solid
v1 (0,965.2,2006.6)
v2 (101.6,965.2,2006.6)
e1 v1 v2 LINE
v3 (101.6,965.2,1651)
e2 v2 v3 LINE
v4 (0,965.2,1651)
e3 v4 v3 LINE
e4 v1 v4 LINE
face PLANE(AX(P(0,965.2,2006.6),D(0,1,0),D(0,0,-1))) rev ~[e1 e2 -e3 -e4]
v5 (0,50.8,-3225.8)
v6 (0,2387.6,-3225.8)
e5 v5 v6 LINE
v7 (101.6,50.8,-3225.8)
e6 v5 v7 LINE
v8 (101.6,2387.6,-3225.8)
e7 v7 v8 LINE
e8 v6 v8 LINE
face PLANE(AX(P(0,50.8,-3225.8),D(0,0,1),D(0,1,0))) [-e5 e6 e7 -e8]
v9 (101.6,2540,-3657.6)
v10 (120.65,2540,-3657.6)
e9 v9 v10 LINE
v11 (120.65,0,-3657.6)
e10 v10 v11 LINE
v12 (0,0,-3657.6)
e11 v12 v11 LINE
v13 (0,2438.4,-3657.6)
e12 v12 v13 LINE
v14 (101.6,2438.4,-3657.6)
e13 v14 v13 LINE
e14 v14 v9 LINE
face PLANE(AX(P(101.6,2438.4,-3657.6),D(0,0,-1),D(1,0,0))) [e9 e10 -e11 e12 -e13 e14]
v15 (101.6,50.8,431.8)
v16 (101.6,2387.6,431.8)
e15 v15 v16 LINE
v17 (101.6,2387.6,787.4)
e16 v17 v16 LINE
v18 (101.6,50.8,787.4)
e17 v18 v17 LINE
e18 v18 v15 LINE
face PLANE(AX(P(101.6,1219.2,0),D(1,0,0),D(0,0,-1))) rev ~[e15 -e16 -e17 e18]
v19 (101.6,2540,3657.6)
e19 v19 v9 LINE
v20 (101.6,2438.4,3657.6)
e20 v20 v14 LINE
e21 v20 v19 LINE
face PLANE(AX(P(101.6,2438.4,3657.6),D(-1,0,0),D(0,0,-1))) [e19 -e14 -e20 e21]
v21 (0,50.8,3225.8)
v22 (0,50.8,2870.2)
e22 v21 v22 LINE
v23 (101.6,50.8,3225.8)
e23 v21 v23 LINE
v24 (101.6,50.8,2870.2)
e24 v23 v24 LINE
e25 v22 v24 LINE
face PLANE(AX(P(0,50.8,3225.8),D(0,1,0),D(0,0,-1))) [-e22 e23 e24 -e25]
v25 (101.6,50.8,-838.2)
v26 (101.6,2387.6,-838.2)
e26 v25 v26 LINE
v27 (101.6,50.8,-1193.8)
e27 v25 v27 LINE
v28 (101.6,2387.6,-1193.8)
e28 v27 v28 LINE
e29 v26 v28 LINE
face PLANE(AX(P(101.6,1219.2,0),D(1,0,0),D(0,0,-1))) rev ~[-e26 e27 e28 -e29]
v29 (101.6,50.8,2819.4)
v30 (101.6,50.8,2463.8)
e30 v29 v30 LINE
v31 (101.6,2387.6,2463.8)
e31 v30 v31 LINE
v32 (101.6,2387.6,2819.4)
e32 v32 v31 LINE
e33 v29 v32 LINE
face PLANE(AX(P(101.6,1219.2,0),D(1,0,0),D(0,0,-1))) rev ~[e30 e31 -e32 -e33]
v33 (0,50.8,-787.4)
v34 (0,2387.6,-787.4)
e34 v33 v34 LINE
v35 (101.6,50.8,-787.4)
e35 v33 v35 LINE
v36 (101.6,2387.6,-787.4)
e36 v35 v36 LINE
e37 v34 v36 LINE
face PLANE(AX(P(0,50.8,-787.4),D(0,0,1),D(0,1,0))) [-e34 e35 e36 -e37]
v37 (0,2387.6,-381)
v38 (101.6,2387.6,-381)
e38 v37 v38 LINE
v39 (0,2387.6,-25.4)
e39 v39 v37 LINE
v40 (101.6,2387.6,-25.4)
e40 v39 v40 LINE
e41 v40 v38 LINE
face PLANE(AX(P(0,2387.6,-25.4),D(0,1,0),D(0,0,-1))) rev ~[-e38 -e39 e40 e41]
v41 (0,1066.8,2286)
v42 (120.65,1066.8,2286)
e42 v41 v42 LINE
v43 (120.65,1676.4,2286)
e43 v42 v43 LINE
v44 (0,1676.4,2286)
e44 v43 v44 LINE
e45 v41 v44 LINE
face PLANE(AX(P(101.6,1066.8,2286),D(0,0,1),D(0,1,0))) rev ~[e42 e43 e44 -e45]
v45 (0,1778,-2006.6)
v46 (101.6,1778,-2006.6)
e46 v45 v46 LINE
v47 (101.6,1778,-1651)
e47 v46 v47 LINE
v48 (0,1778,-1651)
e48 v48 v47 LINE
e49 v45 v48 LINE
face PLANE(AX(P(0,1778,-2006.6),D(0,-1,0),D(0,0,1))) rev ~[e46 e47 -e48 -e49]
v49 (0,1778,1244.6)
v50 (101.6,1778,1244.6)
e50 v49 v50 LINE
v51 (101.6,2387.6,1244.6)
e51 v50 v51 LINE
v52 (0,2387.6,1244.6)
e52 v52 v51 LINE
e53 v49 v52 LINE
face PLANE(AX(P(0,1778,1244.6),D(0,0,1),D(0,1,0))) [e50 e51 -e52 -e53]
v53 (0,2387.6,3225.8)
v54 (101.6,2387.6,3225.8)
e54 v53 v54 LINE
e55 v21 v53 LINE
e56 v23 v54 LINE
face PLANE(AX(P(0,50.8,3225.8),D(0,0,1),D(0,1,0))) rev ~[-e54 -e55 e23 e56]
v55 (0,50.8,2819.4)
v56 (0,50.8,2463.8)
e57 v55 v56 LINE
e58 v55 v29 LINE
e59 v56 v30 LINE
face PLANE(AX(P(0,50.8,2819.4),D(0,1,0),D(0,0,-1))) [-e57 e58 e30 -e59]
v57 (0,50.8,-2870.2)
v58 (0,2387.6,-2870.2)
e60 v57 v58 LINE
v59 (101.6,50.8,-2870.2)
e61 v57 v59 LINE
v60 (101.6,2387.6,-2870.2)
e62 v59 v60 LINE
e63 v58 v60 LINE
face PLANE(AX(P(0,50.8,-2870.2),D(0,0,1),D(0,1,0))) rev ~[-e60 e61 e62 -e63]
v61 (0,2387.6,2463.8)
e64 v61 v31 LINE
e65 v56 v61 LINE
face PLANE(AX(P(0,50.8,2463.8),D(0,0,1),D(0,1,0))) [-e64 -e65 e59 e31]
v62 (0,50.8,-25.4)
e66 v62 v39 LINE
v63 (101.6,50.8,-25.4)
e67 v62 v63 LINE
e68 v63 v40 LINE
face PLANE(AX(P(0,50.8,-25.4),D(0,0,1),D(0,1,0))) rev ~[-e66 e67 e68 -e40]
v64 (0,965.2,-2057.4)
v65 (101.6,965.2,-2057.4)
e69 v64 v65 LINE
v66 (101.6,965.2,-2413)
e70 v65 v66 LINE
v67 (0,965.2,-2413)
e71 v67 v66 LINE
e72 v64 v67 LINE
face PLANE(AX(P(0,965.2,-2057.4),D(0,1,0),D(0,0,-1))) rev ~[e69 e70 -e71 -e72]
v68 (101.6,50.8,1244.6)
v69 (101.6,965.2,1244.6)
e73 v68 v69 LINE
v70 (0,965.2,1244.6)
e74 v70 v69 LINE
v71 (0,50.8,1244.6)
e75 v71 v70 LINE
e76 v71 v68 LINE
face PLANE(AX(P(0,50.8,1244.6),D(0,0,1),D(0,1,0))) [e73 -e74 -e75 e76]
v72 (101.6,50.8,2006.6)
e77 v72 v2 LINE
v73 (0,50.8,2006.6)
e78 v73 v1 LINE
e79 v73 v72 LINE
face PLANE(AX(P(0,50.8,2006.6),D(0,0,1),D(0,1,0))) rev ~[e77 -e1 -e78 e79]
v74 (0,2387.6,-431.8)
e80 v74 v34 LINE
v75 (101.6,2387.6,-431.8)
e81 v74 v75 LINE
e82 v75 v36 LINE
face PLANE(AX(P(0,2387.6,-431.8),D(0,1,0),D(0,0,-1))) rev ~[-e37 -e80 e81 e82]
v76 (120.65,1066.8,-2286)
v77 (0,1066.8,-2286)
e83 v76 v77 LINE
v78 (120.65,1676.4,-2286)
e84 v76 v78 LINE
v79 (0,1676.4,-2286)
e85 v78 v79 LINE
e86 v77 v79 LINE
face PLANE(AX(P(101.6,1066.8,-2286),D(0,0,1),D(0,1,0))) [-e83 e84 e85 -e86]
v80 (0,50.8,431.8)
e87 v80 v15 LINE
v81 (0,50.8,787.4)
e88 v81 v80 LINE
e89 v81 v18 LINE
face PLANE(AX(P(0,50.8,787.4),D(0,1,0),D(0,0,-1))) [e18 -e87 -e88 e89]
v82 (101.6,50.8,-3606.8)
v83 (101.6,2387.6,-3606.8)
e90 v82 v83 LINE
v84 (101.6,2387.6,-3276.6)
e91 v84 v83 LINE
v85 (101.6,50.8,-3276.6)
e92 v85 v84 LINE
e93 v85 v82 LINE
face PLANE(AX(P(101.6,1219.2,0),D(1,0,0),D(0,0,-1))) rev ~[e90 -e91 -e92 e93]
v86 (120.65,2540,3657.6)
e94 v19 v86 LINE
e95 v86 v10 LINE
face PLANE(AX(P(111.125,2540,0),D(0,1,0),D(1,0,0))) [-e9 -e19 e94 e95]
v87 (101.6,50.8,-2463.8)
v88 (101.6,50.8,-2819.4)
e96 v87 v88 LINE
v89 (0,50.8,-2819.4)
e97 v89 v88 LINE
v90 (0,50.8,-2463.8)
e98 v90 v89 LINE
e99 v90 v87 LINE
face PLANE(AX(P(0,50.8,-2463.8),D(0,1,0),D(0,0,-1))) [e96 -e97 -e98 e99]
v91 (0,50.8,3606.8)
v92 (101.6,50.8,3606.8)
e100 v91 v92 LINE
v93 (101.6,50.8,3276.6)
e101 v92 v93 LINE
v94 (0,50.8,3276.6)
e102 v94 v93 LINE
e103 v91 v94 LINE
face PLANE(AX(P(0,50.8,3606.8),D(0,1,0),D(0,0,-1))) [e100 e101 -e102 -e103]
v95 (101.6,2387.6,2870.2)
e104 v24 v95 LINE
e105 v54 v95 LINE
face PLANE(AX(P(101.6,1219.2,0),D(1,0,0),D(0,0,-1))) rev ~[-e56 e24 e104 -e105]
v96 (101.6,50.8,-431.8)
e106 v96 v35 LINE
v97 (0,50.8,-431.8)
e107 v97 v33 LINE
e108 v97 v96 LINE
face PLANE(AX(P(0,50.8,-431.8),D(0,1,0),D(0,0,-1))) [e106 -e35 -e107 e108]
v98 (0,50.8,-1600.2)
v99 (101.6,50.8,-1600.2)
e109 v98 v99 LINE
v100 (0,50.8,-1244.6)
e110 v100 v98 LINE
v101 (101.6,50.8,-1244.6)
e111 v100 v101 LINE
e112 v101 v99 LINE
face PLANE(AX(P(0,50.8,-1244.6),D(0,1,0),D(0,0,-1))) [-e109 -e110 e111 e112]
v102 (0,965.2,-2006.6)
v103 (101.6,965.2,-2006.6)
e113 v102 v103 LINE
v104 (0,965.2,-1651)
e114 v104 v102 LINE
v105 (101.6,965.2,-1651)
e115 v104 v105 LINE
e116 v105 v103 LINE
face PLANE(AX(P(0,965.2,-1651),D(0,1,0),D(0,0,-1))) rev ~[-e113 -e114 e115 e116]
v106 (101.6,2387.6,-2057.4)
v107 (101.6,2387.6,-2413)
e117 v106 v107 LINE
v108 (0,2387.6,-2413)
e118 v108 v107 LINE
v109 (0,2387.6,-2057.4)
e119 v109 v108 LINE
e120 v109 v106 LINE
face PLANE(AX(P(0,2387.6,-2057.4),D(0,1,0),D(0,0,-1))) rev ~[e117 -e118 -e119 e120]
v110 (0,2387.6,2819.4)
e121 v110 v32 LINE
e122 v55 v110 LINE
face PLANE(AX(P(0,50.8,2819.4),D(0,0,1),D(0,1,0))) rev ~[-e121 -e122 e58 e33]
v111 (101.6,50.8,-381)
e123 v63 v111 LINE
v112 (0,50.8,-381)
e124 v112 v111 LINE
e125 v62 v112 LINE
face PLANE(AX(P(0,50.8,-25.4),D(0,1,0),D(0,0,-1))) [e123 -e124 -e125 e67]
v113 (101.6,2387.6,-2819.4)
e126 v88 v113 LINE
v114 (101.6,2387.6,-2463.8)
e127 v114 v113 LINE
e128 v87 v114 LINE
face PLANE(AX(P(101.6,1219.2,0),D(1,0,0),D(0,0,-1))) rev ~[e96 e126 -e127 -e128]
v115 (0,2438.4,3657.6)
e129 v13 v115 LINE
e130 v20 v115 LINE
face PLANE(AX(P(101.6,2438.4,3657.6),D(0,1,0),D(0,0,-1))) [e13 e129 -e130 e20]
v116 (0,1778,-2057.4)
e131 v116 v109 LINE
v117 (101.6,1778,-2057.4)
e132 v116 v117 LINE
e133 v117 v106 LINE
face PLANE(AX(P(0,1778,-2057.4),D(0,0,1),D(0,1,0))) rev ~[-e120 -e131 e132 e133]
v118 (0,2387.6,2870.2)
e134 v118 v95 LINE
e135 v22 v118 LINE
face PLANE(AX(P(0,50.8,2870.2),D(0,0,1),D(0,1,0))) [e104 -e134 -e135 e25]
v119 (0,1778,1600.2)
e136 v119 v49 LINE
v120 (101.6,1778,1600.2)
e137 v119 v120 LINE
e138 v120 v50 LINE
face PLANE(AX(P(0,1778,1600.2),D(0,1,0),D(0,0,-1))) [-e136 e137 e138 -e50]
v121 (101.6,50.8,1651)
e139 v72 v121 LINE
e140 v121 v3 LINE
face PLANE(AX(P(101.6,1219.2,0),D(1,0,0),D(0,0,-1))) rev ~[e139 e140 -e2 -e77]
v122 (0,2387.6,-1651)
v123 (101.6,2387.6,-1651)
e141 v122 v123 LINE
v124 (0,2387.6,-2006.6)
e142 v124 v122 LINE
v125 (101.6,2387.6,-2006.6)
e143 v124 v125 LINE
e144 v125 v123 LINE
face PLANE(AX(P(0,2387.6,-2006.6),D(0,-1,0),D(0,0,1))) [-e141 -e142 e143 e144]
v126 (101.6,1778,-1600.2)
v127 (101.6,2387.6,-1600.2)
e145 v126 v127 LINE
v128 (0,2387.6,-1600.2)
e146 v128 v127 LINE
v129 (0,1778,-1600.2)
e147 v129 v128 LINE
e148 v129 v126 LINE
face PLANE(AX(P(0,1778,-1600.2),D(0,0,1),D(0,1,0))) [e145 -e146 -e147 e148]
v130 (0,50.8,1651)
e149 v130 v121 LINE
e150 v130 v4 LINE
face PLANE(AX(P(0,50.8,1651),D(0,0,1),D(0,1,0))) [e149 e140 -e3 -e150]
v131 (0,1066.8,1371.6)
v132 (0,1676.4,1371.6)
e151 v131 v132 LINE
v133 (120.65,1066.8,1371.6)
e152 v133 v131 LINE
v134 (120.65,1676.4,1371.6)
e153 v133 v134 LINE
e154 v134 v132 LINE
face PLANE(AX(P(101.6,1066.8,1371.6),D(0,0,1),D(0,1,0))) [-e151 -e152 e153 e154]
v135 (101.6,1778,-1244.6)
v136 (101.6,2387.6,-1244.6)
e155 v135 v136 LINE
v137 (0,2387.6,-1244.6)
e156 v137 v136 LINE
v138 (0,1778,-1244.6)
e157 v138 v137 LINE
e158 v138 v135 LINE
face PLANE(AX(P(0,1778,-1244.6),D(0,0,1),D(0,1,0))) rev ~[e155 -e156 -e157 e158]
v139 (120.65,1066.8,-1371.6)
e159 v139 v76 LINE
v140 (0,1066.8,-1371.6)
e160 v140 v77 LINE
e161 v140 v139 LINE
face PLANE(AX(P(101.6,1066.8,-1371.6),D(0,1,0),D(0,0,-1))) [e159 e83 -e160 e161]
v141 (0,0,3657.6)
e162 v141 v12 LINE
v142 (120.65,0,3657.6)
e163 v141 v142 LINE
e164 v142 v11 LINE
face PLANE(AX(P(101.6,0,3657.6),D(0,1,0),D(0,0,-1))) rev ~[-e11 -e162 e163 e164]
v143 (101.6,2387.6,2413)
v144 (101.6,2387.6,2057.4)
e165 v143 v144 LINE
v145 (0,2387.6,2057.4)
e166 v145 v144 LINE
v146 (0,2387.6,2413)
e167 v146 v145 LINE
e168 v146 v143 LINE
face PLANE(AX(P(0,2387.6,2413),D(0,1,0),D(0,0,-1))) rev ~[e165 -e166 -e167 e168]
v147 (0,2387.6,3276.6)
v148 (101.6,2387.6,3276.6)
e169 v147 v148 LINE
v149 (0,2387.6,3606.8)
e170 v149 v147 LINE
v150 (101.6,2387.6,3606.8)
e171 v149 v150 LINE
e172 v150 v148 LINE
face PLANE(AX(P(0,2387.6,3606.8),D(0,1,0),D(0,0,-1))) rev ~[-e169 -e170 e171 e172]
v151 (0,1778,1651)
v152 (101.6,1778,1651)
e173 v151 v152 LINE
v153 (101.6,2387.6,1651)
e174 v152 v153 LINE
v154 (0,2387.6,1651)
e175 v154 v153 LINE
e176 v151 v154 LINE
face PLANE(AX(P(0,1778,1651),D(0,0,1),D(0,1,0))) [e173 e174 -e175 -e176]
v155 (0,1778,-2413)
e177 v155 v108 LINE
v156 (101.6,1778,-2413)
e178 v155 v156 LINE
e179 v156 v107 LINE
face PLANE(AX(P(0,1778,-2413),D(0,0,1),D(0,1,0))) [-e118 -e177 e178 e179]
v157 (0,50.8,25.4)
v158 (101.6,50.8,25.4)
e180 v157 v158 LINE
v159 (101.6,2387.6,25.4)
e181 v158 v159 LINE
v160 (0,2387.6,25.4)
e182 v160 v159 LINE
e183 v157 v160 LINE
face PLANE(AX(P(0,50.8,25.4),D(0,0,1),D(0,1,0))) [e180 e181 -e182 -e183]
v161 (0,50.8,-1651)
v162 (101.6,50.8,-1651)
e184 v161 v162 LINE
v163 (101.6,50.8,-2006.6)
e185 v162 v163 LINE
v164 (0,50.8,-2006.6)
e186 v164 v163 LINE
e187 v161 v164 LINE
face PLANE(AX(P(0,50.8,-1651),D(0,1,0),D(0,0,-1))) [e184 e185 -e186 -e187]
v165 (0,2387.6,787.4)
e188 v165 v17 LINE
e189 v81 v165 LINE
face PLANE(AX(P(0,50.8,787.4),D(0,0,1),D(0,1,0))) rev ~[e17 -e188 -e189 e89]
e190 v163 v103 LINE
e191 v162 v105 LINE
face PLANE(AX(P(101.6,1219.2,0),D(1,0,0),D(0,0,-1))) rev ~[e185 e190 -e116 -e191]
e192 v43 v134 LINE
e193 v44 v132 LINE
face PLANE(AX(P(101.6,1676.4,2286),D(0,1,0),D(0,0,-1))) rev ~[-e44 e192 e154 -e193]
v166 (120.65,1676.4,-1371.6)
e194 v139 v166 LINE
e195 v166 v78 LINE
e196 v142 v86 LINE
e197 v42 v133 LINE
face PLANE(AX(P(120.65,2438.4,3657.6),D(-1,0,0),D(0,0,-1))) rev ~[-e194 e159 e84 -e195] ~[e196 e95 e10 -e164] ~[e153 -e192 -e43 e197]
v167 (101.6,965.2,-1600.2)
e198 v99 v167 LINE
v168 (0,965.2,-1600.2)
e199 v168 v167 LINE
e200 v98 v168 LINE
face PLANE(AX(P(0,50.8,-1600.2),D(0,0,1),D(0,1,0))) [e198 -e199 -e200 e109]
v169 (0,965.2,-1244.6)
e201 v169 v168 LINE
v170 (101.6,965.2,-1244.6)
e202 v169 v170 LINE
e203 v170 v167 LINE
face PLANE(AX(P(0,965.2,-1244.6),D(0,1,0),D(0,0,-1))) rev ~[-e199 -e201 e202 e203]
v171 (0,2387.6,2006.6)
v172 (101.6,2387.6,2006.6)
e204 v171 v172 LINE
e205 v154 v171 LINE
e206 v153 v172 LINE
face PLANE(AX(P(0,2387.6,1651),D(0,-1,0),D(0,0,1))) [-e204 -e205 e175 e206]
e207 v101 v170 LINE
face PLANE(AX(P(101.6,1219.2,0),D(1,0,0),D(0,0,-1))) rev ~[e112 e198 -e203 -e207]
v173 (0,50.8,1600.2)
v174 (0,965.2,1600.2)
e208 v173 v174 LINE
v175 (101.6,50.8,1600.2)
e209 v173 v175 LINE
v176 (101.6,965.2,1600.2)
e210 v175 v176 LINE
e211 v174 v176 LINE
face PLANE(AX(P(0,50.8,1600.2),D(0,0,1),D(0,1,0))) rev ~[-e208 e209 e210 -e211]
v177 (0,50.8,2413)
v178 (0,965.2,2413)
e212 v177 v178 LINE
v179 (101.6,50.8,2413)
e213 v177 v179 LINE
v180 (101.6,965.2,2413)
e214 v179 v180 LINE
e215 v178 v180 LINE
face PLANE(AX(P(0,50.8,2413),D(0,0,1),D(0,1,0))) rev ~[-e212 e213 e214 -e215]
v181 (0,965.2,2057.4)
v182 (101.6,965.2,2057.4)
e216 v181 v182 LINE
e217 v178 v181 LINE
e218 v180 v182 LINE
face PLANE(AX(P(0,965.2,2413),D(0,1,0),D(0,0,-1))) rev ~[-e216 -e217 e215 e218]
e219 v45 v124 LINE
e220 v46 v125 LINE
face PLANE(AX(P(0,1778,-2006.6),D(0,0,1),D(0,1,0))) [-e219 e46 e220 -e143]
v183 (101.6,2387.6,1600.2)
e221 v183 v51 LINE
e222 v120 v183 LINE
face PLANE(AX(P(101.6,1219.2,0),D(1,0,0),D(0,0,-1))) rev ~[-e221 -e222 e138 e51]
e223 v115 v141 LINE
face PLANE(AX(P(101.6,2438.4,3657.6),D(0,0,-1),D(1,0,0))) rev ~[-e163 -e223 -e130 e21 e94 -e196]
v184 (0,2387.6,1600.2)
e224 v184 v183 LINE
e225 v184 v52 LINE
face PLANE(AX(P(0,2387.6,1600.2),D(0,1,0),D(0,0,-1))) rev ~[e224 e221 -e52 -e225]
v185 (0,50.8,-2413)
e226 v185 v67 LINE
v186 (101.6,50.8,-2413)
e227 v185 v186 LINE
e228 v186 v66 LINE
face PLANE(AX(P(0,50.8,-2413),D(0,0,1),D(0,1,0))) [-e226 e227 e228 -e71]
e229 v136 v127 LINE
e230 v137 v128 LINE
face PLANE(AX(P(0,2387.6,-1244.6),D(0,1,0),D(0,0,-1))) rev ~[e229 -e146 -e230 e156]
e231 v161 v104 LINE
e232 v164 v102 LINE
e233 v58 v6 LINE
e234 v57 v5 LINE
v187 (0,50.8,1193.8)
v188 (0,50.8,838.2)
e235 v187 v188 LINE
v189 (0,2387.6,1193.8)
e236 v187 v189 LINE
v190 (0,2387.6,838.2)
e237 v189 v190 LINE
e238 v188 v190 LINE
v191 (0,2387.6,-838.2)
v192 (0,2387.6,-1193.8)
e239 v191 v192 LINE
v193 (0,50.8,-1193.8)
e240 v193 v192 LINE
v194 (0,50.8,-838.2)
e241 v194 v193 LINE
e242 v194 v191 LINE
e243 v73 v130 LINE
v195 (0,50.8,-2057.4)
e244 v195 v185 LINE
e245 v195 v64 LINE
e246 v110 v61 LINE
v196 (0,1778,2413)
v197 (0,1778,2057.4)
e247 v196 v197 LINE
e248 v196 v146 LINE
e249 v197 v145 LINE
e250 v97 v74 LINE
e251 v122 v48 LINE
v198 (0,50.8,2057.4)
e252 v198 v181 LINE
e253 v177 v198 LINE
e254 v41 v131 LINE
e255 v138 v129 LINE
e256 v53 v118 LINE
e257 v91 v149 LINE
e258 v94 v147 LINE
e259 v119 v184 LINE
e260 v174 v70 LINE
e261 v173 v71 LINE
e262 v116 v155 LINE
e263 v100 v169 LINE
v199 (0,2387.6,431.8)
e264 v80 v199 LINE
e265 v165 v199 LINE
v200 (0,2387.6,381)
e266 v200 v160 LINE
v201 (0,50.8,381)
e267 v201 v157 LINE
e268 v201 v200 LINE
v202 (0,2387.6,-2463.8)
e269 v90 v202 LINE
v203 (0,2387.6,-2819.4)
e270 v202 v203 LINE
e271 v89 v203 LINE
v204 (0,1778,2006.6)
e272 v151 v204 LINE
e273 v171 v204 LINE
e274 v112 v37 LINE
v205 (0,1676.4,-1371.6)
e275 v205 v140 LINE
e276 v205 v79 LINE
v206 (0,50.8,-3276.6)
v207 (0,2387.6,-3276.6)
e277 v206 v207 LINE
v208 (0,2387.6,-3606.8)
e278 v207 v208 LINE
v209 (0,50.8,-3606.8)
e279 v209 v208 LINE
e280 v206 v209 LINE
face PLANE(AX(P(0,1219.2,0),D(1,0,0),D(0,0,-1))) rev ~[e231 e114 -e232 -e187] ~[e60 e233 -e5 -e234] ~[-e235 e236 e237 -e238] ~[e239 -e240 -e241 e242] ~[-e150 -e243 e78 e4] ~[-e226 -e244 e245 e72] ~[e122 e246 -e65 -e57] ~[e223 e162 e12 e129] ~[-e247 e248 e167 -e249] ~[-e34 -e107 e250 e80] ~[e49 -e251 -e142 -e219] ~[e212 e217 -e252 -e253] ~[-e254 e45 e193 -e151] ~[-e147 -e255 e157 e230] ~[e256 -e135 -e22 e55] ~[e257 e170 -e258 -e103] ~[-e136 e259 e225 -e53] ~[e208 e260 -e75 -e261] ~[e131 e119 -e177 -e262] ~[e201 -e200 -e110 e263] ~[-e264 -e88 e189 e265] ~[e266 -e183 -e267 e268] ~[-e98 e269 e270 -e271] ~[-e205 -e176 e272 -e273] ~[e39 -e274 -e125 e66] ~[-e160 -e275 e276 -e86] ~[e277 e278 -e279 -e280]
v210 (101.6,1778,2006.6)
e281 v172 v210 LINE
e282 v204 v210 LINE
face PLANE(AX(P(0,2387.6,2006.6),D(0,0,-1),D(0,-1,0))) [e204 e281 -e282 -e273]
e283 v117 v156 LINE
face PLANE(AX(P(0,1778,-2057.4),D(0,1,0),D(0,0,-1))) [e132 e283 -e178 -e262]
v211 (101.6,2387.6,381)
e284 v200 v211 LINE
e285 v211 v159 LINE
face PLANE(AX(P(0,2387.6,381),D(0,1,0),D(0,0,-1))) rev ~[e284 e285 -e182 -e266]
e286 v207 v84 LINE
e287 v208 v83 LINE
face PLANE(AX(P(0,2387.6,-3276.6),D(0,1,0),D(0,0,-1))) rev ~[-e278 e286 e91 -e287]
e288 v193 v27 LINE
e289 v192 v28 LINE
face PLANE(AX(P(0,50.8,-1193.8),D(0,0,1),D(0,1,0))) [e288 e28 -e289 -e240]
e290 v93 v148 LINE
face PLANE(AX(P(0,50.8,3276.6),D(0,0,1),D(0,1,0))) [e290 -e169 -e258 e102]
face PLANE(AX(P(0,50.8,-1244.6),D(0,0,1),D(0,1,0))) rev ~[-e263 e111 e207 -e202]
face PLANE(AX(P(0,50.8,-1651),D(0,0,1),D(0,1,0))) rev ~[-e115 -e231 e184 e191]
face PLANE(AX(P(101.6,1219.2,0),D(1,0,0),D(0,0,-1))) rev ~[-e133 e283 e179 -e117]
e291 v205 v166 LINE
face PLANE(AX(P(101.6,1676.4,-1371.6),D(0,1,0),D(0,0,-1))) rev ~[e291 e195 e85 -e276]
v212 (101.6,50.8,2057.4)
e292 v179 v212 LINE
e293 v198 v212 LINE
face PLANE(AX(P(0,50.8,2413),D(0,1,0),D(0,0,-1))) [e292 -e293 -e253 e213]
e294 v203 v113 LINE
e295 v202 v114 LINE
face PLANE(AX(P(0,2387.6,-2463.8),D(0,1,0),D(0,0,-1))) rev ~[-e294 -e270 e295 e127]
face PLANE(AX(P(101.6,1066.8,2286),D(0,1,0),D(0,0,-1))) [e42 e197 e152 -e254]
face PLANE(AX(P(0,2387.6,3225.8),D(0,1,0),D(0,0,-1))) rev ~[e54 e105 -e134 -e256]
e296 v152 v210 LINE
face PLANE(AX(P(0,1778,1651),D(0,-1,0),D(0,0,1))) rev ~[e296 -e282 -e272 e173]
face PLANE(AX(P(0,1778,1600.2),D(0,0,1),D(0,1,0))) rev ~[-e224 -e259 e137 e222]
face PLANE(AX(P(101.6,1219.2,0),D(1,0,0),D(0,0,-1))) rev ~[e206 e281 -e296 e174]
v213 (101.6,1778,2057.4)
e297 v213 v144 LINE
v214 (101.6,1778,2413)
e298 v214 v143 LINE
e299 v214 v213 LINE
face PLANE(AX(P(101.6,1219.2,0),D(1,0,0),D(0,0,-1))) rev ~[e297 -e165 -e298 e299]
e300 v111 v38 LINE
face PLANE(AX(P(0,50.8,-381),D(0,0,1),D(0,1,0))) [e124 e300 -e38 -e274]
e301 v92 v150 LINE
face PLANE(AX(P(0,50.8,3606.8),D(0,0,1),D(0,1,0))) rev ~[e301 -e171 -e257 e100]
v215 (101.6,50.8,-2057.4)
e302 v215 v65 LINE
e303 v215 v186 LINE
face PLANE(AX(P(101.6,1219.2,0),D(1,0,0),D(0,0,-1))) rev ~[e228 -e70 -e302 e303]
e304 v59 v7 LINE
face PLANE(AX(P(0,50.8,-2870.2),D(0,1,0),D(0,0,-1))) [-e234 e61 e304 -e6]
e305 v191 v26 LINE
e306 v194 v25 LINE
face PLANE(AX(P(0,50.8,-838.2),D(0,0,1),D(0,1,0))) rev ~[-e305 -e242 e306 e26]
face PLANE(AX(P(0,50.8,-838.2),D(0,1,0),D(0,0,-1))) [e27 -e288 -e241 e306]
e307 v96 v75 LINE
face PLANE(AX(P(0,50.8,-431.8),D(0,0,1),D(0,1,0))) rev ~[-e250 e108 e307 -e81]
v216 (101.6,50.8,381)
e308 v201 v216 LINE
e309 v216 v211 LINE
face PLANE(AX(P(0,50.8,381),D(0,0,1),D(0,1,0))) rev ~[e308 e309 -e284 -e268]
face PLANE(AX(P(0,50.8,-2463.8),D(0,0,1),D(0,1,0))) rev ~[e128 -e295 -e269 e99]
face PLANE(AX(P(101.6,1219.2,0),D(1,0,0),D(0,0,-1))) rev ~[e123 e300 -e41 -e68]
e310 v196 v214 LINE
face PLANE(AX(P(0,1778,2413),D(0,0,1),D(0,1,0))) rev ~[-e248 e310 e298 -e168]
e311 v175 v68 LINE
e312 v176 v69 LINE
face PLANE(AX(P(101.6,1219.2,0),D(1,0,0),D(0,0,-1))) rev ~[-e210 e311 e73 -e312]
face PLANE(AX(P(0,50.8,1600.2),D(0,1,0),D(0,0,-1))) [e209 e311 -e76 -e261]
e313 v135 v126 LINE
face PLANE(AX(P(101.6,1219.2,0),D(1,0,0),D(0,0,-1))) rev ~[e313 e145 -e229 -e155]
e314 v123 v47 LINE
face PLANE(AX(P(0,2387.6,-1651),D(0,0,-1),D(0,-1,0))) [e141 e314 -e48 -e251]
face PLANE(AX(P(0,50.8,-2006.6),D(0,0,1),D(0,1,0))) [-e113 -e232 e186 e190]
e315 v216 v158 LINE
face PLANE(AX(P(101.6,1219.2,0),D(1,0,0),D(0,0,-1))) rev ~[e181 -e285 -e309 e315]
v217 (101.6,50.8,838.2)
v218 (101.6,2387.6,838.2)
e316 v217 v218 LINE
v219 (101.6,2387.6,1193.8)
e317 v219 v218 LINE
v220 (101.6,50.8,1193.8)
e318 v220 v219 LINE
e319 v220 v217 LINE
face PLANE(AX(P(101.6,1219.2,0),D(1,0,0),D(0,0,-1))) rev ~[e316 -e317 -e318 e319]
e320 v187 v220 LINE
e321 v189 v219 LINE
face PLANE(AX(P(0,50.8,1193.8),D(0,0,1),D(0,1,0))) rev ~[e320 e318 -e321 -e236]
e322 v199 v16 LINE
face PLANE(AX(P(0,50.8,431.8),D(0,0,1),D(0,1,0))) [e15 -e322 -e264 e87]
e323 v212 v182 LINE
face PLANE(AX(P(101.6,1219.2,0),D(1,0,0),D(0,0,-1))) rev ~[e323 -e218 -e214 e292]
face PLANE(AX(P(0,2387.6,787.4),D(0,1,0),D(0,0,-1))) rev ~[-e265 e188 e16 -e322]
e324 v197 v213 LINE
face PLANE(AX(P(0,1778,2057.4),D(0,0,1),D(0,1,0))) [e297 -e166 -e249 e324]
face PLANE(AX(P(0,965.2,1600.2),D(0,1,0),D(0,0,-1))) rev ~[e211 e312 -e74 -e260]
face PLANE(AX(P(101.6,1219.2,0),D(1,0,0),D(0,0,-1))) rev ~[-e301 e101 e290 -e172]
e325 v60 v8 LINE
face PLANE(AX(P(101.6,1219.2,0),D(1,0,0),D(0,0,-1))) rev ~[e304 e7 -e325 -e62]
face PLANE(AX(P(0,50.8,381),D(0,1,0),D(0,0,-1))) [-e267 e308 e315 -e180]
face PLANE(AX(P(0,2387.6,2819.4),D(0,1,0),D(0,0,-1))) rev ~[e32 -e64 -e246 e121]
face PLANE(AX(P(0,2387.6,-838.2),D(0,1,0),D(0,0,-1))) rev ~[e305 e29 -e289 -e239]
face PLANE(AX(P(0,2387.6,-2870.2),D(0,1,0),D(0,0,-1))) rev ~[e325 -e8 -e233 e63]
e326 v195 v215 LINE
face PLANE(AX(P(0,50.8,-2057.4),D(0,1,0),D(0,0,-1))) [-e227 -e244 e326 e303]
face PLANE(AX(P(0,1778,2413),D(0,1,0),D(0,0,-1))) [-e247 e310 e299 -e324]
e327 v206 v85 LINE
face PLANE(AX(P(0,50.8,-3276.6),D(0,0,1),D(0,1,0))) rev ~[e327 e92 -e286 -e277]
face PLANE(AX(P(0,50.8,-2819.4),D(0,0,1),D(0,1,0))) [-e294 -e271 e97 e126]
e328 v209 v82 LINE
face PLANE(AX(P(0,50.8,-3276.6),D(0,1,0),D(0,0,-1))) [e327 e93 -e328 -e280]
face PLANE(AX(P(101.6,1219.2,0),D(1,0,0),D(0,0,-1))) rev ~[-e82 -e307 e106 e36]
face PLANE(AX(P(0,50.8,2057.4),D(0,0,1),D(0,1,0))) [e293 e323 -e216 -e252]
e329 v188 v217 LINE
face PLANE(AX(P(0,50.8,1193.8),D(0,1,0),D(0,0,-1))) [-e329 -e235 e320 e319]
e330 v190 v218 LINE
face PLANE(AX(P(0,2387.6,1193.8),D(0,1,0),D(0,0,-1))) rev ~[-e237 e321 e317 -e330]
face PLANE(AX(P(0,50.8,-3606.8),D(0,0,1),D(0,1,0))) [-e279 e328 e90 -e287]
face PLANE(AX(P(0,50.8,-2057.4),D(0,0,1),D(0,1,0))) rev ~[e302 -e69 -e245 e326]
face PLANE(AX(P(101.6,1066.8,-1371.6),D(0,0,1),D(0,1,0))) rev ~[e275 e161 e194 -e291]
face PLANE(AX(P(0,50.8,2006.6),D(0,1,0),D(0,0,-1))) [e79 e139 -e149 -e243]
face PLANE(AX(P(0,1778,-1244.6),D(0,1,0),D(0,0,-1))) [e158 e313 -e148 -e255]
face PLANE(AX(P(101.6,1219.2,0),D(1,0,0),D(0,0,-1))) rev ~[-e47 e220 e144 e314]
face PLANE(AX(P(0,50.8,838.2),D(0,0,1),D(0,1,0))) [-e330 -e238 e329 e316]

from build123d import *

# Parameters (mm, degrees)
SKETCH1_W           = 330.2
SKETCH1_H           = 2336.8
SKETCH1_W_2         = 914.4
SKETCH1_H_2         = 609.6
SKETCH1_W_3         = 355.6
SKETCH1_H_3         = 914.4
BOSS_EXTRUDE1_DEPTH = 101.6
SKETCH2_W           = 7315.2
SKETCH2_H           = 2438.4
SKETCH2_W_2         = 914.4
SKETCH2_H_2         = 609.6
BOSS_EXTRUDE2_DEPTH = 19.05
SKETCH3_W           = 19.05
SKETCH3_H           = 7315.2
BOSS_EXTRUDE3_DEPTH = 101.6


with BuildPart() as part:
    # Sketch1 → Boss-Extrude1 (new body)
    with BuildSketch(Plane(origin=(0, 0, 0), x_dir=(0, 0, -1), z_dir=(1, 0, 0))):
        Polygon((0, 0), (3657.6, 0), (3657.6, 2438.4), (-3657.6, 2438.4), (-3657.6, 0), align=None)
        Polygon((1828.8, 1778), (2006.6, 1778), (2006.6, 2387.6), (1651, 2387.6), (1651, 1778), align=None, mode=Mode.SUBTRACT)
        with Locations((-3441.7, 1219.2)):
            Rectangle(SKETCH1_W, SKETCH1_H, mode=Mode.SUBTRACT)
        with Locations((3441.7, 1219.2)):
            Rectangle(SKETCH1_W, SKETCH1_H, mode=Mode.SUBTRACT)
        Polygon((-1828.8, 1778), (-1651, 1778), (-1651, 2387.6), (-2006.6, 2387.6), (-2006.6, 1778), align=None, mode=Mode.SUBTRACT)
        with Locations((-1828.8, 1371.6)):
            Rectangle(SKETCH1_W_2, SKETCH1_H_2, mode=Mode.SUBTRACT)
        Polygon((1828.8, 1676.4), (1371.6, 1676.4), (1371.6, 1066.8), (2286, 1066.8), (2286, 1676.4), align=None, mode=Mode.SUBTRACT)
        with Locations((203.2, 1219.2)):
            Rectangle(SKETCH1_W_3, SKETCH1_H, mode=Mode.SUBTRACT)
        with Locations((-203.2, 1219.2)):
            Rectangle(SKETCH1_W_3, SKETCH1_H, mode=Mode.SUBTRACT)
        with Locations((609.6, 1219.2)):
            Rectangle(SKETCH1_W_3, SKETCH1_H, mode=Mode.SUBTRACT)
        with Locations((1016, 1219.2)):
            Rectangle(SKETCH1_W_3, SKETCH1_H, mode=Mode.SUBTRACT)
        with Locations((1422.4, 508)):
            Rectangle(SKETCH1_W_3, SKETCH1_H_3, mode=Mode.SUBTRACT)
        with Locations((1828.8, 508)):
            Rectangle(SKETCH1_W_3, SKETCH1_H_3, mode=Mode.SUBTRACT)
        with Locations((2235.2, 508)):
            Rectangle(SKETCH1_W_3, SKETCH1_H_3, mode=Mode.SUBTRACT)
        with Locations((2641.6, 1219.2)):
            Rectangle(SKETCH1_W_3, SKETCH1_H, mode=Mode.SUBTRACT)
        with Locations((3048, 1219.2)):
            Rectangle(SKETCH1_W_3, SKETCH1_H, mode=Mode.SUBTRACT)
        with Locations((1422.4, 2082.8)):
            Rectangle(SKETCH1_W_3, SKETCH1_H_2, mode=Mode.SUBTRACT)
        with Locations((2235.2, 2082.8)):
            Rectangle(SKETCH1_W_3, SKETCH1_H_2, mode=Mode.SUBTRACT)
        with Locations((-609.6, 1219.2)):
            Rectangle(SKETCH1_W_3, SKETCH1_H, mode=Mode.SUBTRACT)
        with Locations((-1016, 1219.2)):
            Rectangle(SKETCH1_W_3, SKETCH1_H, mode=Mode.SUBTRACT)
        with Locations((-1422.4, 508)):
            Rectangle(SKETCH1_W_3, SKETCH1_H_3, mode=Mode.SUBTRACT)
        with Locations((-1828.8, 508)):
            Rectangle(SKETCH1_W_3, SKETCH1_H_3, mode=Mode.SUBTRACT)
        with Locations((-2235.2, 508)):
            Rectangle(SKETCH1_W_3, SKETCH1_H_3, mode=Mode.SUBTRACT)
        with Locations((-2641.6, 1219.2)):
            Rectangle(SKETCH1_W_3, SKETCH1_H, mode=Mode.SUBTRACT)
        with Locations((-3048, 1219.2)):
            Rectangle(SKETCH1_W_3, SKETCH1_H, mode=Mode.SUBTRACT)
        with Locations((-2235.2, 2082.8)):
            Rectangle(SKETCH1_W_3, SKETCH1_H_2, mode=Mode.SUBTRACT)
        with Locations((-1422.4, 2082.8)):
            Rectangle(SKETCH1_W_3, SKETCH1_H_2, mode=Mode.SUBTRACT)
    extrude(amount=BOSS_EXTRUDE1_DEPTH)

    # Sketch2 → Boss-Extrude2 (add)
    with BuildSketch(Plane(origin=(101.6, 0, 0), x_dir=(0, 0, -1), z_dir=(1, 0, 0))):
        with Locations((0, 1219.2)):
            Rectangle(SKETCH2_W, SKETCH2_H)
        with Locations((1828.8, 1371.6)):
            Rectangle(SKETCH2_W_2, SKETCH2_H_2, mode=Mode.SUBTRACT)
        with Locations((-1828.8, 1371.6)):
            Rectangle(SKETCH2_W_2, SKETCH2_H_2, mode=Mode.SUBTRACT)
    extrude(amount=BOSS_EXTRUDE2_DEPTH)

    # Sketch3 → Boss-Extrude3 (add)
    with BuildSketch(Plane(origin=(0, 2438.4, 0), x_dir=(1, 0, 0), z_dir=(0, 1, 0))):
        with Locations((111.125, 0)):
            Rectangle(SKETCH3_W, SKETCH3_H)
    extrude(amount=BOSS_EXTRUDE3_DEPTH)


solid = part.part
